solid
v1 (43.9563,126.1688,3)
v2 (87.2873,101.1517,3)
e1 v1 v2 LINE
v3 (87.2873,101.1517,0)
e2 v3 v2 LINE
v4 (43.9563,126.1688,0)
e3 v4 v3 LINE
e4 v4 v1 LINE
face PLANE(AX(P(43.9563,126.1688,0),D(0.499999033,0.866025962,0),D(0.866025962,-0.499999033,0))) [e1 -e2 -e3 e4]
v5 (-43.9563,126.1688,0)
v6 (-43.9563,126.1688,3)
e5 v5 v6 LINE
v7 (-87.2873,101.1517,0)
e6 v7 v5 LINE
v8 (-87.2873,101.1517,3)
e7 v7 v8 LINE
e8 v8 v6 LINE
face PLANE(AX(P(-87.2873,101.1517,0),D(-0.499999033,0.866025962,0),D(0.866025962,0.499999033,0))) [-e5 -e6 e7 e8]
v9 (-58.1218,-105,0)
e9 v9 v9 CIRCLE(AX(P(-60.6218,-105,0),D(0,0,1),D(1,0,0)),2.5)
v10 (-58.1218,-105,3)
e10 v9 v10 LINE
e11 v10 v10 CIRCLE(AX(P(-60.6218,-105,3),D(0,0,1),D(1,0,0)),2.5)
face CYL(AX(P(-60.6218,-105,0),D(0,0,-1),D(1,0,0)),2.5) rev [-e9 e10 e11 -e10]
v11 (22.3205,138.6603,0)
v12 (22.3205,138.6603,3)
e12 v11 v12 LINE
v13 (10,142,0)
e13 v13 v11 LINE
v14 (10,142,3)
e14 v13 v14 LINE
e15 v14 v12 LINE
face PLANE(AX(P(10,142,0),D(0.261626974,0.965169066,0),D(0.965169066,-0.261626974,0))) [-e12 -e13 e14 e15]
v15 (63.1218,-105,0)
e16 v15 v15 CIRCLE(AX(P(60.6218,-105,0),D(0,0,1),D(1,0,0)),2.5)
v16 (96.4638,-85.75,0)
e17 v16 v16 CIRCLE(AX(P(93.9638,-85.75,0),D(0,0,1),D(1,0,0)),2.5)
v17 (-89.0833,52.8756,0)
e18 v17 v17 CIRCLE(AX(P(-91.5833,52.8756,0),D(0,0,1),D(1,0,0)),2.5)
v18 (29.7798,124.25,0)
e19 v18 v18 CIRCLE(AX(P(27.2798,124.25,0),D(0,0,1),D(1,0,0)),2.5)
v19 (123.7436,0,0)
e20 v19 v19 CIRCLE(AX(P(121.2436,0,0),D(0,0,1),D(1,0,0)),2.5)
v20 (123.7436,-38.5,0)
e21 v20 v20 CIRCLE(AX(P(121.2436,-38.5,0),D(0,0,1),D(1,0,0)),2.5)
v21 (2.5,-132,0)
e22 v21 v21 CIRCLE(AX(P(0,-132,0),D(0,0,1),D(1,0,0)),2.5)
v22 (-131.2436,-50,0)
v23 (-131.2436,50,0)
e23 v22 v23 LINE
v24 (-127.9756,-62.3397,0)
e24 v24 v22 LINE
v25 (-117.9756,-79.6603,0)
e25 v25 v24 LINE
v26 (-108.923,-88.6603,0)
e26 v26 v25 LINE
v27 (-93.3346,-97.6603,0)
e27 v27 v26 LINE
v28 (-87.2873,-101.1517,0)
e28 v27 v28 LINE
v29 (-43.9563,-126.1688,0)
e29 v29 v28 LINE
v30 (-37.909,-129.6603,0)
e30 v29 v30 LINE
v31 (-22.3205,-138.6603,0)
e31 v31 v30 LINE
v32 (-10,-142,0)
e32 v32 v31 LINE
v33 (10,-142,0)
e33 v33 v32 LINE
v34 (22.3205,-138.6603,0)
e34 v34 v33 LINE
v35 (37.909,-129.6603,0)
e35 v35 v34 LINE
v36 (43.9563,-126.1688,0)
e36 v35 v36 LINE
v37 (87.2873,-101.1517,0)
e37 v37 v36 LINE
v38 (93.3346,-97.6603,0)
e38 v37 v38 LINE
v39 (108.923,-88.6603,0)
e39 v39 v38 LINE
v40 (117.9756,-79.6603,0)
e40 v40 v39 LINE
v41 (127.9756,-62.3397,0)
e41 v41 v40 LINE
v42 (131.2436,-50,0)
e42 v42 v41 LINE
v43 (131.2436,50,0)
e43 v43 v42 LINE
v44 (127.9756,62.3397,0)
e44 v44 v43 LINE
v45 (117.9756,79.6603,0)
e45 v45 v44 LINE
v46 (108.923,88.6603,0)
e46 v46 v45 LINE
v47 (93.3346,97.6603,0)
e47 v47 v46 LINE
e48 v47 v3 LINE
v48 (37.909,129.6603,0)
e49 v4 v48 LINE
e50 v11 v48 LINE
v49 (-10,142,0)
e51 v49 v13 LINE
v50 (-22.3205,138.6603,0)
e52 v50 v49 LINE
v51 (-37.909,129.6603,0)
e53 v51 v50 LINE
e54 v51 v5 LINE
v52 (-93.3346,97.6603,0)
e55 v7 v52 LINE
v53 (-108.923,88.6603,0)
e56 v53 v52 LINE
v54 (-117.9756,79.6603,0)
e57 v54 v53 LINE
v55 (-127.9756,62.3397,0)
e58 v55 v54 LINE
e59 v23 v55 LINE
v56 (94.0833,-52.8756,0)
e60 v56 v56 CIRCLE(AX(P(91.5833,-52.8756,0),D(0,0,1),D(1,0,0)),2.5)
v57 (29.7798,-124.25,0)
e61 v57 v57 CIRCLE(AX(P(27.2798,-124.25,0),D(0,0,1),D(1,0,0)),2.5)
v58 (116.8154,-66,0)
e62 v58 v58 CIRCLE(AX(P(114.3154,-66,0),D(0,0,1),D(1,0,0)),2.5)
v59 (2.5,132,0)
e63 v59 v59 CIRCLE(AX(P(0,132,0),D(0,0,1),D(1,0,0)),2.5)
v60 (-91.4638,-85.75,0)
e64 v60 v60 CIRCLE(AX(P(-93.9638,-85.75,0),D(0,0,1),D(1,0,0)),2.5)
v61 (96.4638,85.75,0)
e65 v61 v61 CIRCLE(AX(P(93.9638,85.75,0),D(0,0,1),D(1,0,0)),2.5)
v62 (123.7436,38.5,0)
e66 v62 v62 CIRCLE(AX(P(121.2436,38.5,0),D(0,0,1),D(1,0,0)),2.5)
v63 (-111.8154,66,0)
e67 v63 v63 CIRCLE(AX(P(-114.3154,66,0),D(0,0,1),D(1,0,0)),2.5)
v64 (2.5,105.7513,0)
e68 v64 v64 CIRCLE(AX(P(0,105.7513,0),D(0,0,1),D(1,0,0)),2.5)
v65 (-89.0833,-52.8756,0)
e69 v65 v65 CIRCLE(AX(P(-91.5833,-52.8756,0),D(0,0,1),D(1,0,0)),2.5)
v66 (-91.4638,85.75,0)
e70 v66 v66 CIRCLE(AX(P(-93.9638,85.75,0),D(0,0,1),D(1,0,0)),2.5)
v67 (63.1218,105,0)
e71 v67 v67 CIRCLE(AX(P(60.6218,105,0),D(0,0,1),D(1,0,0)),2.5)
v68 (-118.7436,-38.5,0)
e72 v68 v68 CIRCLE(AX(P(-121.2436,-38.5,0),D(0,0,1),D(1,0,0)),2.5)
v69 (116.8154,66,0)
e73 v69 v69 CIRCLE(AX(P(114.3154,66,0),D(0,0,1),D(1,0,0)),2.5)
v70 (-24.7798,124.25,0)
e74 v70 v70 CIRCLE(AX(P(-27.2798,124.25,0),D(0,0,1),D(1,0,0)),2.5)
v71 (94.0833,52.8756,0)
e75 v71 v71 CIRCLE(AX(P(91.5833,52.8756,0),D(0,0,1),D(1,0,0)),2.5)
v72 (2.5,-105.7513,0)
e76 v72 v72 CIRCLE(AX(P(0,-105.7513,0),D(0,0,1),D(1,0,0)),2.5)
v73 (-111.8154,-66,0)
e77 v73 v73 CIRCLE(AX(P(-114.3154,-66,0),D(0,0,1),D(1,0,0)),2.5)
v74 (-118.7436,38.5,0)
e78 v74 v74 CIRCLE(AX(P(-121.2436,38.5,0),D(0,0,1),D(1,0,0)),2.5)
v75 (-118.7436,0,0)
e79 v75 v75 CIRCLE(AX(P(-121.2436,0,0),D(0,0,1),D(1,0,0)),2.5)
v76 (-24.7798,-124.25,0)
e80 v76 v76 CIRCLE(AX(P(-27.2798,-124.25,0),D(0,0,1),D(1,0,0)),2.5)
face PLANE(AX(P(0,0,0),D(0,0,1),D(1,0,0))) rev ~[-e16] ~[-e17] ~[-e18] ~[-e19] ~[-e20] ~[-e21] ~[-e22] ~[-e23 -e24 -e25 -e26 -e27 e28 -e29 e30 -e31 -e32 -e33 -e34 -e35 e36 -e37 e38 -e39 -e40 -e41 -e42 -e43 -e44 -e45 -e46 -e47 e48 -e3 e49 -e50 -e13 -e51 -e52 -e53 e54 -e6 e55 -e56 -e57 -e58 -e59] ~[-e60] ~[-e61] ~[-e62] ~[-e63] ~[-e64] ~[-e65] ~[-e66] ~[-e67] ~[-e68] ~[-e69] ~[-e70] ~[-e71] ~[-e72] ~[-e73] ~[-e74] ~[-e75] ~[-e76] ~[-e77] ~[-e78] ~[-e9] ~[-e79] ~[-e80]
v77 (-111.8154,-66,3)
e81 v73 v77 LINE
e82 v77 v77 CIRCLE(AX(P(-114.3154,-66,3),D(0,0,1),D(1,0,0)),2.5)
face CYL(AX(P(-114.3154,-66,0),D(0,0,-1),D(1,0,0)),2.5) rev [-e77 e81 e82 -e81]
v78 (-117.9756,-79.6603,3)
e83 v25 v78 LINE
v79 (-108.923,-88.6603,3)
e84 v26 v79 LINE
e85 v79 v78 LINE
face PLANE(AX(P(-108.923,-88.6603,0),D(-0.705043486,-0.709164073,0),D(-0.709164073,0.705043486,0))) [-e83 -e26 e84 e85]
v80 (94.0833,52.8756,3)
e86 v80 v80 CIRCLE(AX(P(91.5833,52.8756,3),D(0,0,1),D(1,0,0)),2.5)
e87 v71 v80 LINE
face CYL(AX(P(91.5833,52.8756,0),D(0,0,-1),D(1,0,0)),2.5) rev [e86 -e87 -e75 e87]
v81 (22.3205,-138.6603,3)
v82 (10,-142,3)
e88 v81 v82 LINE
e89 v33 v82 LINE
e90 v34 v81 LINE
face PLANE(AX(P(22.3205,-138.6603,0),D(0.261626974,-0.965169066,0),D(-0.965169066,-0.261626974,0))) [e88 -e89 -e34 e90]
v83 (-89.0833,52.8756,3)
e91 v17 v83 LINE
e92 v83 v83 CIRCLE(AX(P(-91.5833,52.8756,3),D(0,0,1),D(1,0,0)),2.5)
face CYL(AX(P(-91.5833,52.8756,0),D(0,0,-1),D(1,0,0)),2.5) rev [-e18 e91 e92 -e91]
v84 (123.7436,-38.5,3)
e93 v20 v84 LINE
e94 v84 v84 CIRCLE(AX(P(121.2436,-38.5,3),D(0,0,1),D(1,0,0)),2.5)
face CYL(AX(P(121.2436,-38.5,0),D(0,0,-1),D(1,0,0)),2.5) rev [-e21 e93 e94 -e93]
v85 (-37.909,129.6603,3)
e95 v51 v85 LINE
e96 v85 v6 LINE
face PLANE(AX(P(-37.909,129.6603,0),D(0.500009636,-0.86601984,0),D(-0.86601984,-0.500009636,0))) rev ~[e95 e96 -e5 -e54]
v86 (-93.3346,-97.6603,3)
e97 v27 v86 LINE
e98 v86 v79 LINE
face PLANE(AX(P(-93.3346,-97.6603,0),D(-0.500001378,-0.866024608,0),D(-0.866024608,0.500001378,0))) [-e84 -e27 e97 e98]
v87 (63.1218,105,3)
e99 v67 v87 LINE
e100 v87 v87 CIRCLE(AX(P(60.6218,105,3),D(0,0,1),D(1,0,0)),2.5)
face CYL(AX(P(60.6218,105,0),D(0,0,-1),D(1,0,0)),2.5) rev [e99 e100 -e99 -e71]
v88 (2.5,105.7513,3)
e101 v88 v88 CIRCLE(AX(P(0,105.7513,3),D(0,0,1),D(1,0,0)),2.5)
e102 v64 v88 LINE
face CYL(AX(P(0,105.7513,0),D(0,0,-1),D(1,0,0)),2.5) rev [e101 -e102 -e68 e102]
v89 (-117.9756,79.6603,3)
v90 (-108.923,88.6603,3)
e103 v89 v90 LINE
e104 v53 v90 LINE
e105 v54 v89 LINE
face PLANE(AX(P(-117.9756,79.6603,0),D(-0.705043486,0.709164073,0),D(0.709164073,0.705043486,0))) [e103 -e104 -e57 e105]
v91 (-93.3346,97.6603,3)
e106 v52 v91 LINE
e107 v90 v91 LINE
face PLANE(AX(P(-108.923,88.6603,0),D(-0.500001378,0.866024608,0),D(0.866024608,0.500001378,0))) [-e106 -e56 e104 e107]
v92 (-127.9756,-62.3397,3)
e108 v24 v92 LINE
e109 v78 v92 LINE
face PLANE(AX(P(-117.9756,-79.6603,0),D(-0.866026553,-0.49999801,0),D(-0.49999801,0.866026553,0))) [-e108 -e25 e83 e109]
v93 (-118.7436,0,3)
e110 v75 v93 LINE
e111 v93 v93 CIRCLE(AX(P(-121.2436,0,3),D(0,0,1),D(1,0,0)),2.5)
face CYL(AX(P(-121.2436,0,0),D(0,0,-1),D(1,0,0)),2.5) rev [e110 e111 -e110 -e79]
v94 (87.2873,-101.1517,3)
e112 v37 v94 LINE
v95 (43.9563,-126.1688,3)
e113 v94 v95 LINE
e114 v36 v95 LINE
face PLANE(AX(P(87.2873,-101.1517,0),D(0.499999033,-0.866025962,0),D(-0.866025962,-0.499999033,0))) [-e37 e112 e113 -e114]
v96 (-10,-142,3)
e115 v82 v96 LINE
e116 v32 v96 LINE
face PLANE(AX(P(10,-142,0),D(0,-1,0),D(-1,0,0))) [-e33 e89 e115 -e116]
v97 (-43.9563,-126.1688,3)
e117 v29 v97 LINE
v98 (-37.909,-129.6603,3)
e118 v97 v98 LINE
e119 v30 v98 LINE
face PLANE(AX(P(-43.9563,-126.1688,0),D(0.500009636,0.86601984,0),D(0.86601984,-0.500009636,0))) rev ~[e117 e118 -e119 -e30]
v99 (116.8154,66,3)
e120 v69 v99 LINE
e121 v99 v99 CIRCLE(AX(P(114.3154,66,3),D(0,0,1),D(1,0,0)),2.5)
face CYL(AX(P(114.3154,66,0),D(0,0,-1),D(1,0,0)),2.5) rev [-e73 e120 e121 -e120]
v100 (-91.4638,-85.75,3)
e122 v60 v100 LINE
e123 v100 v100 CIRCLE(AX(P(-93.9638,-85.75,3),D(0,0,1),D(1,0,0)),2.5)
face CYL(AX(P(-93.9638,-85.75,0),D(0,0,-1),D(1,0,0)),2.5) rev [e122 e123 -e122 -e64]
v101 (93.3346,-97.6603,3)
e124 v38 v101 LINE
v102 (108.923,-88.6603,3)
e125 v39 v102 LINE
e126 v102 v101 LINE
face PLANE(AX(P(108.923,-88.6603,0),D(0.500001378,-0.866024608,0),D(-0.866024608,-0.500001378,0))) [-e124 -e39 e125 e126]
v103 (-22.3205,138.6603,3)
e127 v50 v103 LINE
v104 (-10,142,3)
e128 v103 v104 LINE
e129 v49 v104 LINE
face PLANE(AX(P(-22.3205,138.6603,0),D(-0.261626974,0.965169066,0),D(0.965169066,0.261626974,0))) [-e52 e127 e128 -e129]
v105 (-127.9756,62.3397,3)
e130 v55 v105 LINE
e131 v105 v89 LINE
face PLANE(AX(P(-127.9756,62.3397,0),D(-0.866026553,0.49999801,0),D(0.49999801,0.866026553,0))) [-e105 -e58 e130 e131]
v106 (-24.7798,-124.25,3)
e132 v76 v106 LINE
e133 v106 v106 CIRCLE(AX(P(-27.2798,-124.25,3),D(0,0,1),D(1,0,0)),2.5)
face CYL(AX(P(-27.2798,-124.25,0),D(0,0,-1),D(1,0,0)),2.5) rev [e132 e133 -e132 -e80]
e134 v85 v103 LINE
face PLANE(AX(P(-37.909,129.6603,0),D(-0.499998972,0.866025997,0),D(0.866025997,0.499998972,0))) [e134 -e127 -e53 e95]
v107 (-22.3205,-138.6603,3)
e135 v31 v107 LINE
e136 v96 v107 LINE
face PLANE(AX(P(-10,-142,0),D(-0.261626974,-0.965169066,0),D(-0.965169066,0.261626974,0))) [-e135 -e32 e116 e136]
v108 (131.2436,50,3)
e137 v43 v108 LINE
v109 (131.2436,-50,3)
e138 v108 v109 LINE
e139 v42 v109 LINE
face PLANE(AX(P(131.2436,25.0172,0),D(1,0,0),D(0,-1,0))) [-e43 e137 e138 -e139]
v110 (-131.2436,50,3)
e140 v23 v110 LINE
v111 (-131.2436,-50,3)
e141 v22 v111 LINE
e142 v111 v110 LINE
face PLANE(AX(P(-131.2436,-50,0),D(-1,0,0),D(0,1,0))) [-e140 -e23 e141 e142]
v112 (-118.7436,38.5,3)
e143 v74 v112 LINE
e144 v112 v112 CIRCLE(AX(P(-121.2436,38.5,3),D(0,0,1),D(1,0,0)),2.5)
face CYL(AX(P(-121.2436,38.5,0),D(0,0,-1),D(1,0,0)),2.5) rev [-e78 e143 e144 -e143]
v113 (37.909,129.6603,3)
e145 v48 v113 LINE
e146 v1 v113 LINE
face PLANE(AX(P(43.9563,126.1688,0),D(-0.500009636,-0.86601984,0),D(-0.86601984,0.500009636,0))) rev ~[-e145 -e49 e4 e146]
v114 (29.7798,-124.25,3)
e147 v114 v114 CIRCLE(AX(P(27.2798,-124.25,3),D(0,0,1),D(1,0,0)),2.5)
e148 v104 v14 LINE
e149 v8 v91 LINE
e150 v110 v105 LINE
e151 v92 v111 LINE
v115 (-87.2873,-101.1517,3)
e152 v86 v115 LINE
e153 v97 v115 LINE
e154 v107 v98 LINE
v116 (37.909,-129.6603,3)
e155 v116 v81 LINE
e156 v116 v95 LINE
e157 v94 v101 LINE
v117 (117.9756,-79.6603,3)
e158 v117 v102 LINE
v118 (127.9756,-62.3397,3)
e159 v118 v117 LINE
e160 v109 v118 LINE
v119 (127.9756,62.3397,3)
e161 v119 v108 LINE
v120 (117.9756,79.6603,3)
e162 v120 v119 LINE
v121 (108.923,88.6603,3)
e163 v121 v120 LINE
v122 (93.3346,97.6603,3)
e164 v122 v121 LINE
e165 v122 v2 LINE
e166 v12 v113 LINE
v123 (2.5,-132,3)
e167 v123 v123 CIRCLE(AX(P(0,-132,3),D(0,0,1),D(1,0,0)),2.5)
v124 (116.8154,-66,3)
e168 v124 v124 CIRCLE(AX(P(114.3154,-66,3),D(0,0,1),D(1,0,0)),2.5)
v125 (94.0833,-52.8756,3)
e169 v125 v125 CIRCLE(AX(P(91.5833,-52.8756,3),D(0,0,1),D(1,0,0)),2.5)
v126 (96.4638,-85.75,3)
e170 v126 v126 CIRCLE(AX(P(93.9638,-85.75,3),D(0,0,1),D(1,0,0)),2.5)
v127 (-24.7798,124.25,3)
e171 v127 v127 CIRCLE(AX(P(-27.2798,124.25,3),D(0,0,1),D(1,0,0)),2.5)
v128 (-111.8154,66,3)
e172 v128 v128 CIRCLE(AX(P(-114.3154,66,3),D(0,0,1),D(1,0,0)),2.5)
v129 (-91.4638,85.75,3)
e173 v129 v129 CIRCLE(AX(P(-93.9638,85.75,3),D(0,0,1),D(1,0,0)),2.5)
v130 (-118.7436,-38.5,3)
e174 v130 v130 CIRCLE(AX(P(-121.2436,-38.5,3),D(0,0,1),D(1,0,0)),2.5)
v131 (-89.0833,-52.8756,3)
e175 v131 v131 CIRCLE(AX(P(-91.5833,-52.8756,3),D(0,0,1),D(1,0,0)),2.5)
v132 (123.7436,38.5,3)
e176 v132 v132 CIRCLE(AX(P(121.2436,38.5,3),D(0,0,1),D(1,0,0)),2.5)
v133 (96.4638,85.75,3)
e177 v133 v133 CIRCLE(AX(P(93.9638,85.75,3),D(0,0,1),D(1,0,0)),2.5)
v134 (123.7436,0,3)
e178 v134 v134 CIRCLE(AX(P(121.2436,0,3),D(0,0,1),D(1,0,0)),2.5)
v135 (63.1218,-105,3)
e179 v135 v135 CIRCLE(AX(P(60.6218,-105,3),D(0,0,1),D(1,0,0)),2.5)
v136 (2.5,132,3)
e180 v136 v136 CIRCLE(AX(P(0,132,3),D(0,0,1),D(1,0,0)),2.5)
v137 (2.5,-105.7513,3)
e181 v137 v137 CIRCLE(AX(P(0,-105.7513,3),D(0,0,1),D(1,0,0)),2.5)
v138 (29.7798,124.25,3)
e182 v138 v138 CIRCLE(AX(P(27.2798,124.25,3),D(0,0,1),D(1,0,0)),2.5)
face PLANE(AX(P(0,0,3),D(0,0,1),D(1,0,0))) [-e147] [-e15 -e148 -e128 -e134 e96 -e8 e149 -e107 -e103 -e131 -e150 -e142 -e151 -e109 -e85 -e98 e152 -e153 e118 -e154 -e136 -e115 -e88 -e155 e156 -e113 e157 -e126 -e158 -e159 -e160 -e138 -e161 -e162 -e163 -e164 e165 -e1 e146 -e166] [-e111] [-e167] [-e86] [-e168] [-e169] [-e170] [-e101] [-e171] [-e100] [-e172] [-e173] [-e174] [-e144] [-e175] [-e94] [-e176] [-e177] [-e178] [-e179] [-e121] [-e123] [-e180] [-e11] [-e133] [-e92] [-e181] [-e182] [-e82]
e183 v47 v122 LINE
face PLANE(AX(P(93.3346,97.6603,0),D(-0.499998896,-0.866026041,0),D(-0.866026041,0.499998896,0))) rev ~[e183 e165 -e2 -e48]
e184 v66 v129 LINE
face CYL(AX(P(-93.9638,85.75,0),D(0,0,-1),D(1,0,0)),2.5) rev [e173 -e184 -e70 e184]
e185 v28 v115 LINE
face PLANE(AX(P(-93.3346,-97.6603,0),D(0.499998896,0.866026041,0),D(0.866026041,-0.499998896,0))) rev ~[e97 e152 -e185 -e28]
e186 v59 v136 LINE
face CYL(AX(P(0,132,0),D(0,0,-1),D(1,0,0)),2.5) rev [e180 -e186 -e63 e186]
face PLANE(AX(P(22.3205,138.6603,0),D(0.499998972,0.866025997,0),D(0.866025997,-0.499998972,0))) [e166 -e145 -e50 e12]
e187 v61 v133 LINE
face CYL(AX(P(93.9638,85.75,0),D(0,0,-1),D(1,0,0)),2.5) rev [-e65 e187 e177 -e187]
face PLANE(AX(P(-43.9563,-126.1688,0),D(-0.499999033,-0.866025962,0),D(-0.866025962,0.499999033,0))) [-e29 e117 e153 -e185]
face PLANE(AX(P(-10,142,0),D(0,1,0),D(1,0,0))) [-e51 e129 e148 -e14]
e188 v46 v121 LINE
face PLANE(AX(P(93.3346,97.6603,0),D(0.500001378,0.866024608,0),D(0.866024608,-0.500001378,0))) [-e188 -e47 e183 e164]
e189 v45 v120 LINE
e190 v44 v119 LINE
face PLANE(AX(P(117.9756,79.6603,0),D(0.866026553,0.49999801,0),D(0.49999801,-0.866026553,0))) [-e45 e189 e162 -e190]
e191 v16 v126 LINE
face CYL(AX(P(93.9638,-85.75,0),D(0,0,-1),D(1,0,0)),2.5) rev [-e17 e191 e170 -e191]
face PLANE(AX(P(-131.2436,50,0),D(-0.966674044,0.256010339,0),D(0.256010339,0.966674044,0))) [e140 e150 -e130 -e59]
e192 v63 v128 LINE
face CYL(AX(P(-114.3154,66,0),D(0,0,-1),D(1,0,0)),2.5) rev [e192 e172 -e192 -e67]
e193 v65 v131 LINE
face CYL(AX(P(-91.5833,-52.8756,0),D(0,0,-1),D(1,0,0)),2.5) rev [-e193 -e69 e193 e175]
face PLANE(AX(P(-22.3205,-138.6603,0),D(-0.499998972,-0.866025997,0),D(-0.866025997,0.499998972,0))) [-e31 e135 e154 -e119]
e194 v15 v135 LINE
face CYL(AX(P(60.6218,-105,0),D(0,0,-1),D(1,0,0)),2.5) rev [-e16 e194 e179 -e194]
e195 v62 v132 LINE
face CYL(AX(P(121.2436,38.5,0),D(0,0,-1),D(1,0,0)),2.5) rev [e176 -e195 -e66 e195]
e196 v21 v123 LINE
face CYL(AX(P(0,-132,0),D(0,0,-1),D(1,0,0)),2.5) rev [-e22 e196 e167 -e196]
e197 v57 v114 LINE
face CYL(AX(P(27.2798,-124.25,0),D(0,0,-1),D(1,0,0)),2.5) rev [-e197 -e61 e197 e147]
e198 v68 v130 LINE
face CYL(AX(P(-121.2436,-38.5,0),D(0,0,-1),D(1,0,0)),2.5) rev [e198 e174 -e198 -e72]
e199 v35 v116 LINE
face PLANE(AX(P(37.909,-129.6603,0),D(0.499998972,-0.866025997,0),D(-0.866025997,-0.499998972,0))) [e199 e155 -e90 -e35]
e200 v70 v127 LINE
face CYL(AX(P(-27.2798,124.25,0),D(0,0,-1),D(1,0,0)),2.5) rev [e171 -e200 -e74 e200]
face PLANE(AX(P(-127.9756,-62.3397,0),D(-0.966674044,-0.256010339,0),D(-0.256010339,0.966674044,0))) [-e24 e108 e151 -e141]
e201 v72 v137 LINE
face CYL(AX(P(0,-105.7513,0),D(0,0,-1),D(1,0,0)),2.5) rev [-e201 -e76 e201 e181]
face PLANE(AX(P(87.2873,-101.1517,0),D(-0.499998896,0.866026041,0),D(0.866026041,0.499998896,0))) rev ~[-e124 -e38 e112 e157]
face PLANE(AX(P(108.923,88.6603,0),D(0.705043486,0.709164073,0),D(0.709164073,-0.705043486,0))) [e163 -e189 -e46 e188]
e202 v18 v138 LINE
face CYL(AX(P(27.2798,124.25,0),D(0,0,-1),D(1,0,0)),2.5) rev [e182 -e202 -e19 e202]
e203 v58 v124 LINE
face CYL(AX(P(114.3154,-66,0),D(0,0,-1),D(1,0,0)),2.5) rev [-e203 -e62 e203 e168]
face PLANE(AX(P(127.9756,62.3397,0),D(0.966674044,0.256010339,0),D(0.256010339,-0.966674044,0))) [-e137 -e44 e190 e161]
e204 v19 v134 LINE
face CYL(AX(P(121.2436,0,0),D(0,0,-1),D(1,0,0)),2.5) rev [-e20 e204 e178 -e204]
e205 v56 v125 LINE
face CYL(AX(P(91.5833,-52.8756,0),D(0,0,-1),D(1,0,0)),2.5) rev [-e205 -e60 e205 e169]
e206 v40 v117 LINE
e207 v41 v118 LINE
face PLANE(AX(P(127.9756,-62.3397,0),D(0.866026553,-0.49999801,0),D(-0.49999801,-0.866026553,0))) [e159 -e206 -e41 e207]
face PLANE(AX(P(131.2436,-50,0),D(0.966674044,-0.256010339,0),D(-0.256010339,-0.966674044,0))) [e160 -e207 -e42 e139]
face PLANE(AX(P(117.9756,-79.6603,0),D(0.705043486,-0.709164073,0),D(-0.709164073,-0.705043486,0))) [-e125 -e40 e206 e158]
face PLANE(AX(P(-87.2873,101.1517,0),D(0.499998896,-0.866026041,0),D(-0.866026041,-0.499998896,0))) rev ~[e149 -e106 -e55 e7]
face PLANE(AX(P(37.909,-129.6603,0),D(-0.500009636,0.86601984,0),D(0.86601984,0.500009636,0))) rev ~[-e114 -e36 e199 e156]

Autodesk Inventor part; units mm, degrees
ref_plane "YZ Plane" through (0, 0, 0) normal (1, 0, 0) x (0, 1, 0)
ref_plane "XZ Plane" through (0, 0, 0) normal (0, 1, 0) x (-1, 0, 0)
ref_plane "XY Plane" through (0, 0, 0) normal (0, 0, 1) x (1, 0, 0)
sketch "Skizze1" plane through (0, 0, 0) normal (0, 0, 1) x (1, 0, 0)
  circle A0 centre (60.6218, 105) radius 2.5
  circle A1 centre (-60.6218, 105) radius 2.5
  circle A2 centre (-121.2436, 0) radius 2.5
  circle A3 centre (-60.6218, -105) radius 2.5
  circle A4 centre (60.6218, -105) radius 2.5
  circle A5 centre (121.2436, 0) radius 2.5
  arc A6 (-66.5358, -13.0029) -> (-65.0733, -9.953) centre (-68.0388, -10.4066) ccw
  line L0 (-66.5358, -13.0029) -> (-66.8448, -13.1817)
  arc A7 (-66.8448, -13.1817) -> (-68.6633, -20.0004) centre (-40.9893, -23.7291) ccw
  line L1 (-68.6633, -20.0004) -> (-51.5367, -49.5845)
  arc A8 (-51.5367, -49.5845) -> (-44.7181, -51.4031) centre (-40.9893, -23.7291) ccw
  line L2 (-44.7181, -51.4031) -> (-44.4091, -51.2242)
  arc A9 (-41.036, -51.4747) -> (-44.4091, -51.2242) centre (-42.9061, -53.8205) ccw
  arc A10 (-41.036, -51.4747) -> (-65.0733, -9.953) centre (0, 0) ccw
  circle A11 centre (-63.1036, -36.5313) radius 3.3
  circle A12 centre (63.1888, -36.3837) radius 3.3
  circle A13 centre (-0.0852, 72.915) radius 3.3
  circle A14 centre (63.1036, 36.5313) radius 3.3
  circle A15 centre (0.0852, -72.915) radius 3.3
  circle A16 centre (-63.1888, 36.3837) radius 3.3
  arc A17 (131.2436, 25.0172) -> (128.4541, 26.8548) centre (129.2436, 25.0172) ccw
  line L3 (131.2436, 25.0172) -> (131.2436, -25.0172)
  arc A18 (128.4541, -26.8548) -> (131.2436, -25.0172) centre (129.2436, -25.0172) ccw
  arc A19 (128.4541, -26.8548) -> (126.2436, -26.4) centre (126.2436, -32) ccw
  line L4 (126.2436, -26.4) -> (110.2436, -26.4) construction
  arc A20 (110.2436, -26.4) -> (104.6436, -32) centre (110.2436, -32) ccw construction
  line L5 (104.6436, -32) -> (104.6436, -40.5551) construction
  arc A21 (98.0436, -44.3656) -> (104.6436, -40.5551) centre (100.2436, -40.5551) ccw construction
  line L6 (98.0436, -44.3656) -> (92.5532, -41.1958) construction
  arc A22 (92.5532, -41.1958) -> (84.9034, -43.2455) centre (89.7532, -46.0455) ccw construction
  line L7 (84.9034, -43.2455) -> (79.9034, -51.9058) construction
  arc A23 (79.9034, -51.9058) -> (81.9532, -59.5555) centre (84.7532, -54.7058) ccw construction
  line L8 (81.9532, -59.5555) -> (87.4436, -62.7254) construction
  arc A24 (87.4436, -70.3464) -> (87.4436, -62.7254) centre (85.2436, -66.5359) ccw construction
  line L9 (87.4436, -70.3464) -> (80.0346, -74.624) construction
  arc A25 (80.0346, -74.624) -> (77.9848, -82.2737) centre (82.8346, -79.4737) ccw construction
  line L10 (77.9848, -82.2737) -> (85.9848, -96.1301) construction
  arc A26 (85.9848, -96.1301) -> (87.4839, -97.8171) centre (90.8346, -93.3301) ccw
  arc A27 (87.2873, -101.1517) -> (87.4839, -97.8171) centre (86.2873, -99.4196) ccw
  line L11 (87.2873, -101.1517) -> (43.9563, -126.1688)
  arc A28 (40.9701, -124.6719) -> (43.9563, -126.1688) centre (42.9563, -124.4368) ccw
  arc A29 (40.9701, -124.6719) -> (40.2587, -122.5301) centre (35.409, -125.3301) ccw
  line L12 (40.2587, -122.5301) -> (32.2587, -108.6737) construction
  arc A30 (32.2587, -108.6737) -> (24.609, -106.624) centre (27.409, -111.4737) ccw construction
  line L13 (24.609, -106.624) -> (17.2, -110.9015) construction
  arc A31 (10.6, -107.091) -> (17.2, -110.9015) centre (15, -107.091) ccw construction
  line L14 (10.6, -107.091) -> (10.6, -100.7513) construction
  arc A32 (10.6, -100.7513) -> (5, -95.1513) centre (5, -100.7513) ccw construction
  line L15 (5, -95.1513) -> (-5, -95.1513) construction
  arc A33 (-5, -95.1513) -> (-10.6, -100.7513) centre (-5, -100.7513) ccw construction
  line L16 (-10.6, -100.7513) -> (-10.6, -107.091) construction
  arc A34 (-17.2, -110.9015) -> (-10.6, -107.091) centre (-15, -107.091) ccw construction
  line L17 (-17.2, -110.9015) -> (-24.609, -106.624) construction
  arc A35 (-24.609, -106.624) -> (-32.2587, -108.6737) centre (-27.409, -111.4737) ccw construction
  line L18 (-32.2587, -108.6737) -> (-40.2587, -122.5301) construction
  arc A36 (-40.2587, -122.5301) -> (-40.9701, -124.6719) centre (-35.409, -125.3301) ccw
  arc A37 (-43.9563, -126.1688) -> (-40.9701, -124.6719) centre (-42.9563, -124.4368) ccw
  line L19 (-43.9563, -126.1688) -> (-87.2873, -101.1517)
  arc A38 (-87.4839, -97.8171) -> (-87.2873, -101.1517) centre (-86.2873, -99.4196) ccw
  arc A39 (-87.4839, -97.8171) -> (-85.9848, -96.1301) centre (-90.8346, -93.3301) ccw
  line L20 (-85.9848, -96.1301) -> (-77.9848, -82.2737) construction
  arc A40 (-77.9848, -82.2737) -> (-80.0346, -74.624) centre (-82.8346, -79.4737) ccw construction
  line L21 (-80.0346, -74.624) -> (-87.4436, -70.3464) construction
  arc A41 (-87.4436, -62.7254) -> (-87.4436, -70.3464) centre (-85.2436, -66.5359) ccw construction
  line L22 (-87.4436, -62.7254) -> (-81.9532, -59.5555) construction
  arc A42 (-81.9532, -59.5555) -> (-79.9034, -51.9058) centre (-84.7532, -54.7058) ccw construction
  line L23 (-79.9034, -51.9058) -> (-84.9034, -43.2455) construction
  arc A43 (-84.9034, -43.2455) -> (-92.5532, -41.1958) centre (-89.7532, -46.0455) ccw construction
  line L24 (-92.5532, -41.1958) -> (-98.0436, -44.3656) construction
  arc A44 (-104.6436, -40.5551) -> (-98.0436, -44.3656) centre (-100.2436, -40.5551) ccw construction
  line L25 (-104.6436, -40.5551) -> (-104.6436, -32) construction
  arc A45 (-104.6436, -32) -> (-110.2436, -26.4) centre (-110.2436, -32) ccw construction
  line L26 (-110.2436, -26.4) -> (-126.2436, -26.4) construction
  arc A46 (-126.2436, -26.4) -> (-128.4541, -26.8548) centre (-126.2436, -32) ccw
  arc A47 (-131.2436, -25.0172) -> (-128.4541, -26.8548) centre (-129.2436, -25.0172) ccw
  line L27 (-131.2436, -25.0172) -> (-131.2436, 25.0172)
  arc A48 (-128.4541, 26.8548) -> (-131.2436, 25.0172) centre (-129.2436, 25.0172) ccw
  arc A49 (-128.4541, 26.8548) -> (-126.2436, 26.4) centre (-126.2436, 32) ccw
  line L28 (-126.2436, 26.4) -> (-110.2436, 26.4) construction
  arc A50 (-110.2436, 26.4) -> (-104.6436, 32) centre (-110.2436, 32) ccw construction
  line L29 (-104.6436, 32) -> (-104.6436, 40.5551) construction
  arc A51 (-98.0436, 44.3656) -> (-104.6436, 40.5551) centre (-100.2436, 40.5551) ccw construction
  line L30 (-98.0436, 44.3656) -> (-92.5532, 41.1958) construction
  arc A52 (-92.5532, 41.1958) -> (-84.9034, 43.2455) centre (-89.7532, 46.0455) ccw construction
  line L31 (-84.9034, 43.2455) -> (-79.9034, 51.9058) construction
  arc A53 (-79.9034, 51.9058) -> (-81.9532, 59.5555) centre (-84.7532, 54.7058) ccw construction
  line L32 (-81.9532, 59.5555) -> (-87.4436, 62.7254) construction
  arc A54 (-87.4436, 70.3464) -> (-87.4436, 62.7254) centre (-85.2436, 66.5359) ccw construction
  line L33 (-87.4436, 70.3464) -> (-80.0346, 74.624) construction
  arc A55 (-80.0346, 74.624) -> (-77.9848, 82.2737) centre (-82.8346, 79.4737) ccw construction
  line L34 (-77.9848, 82.2737) -> (-85.9848, 96.1301) construction
  arc A56 (-85.9848, 96.1301) -> (-87.4839, 97.8171) centre (-90.8346, 93.3301) ccw
  arc A57 (-87.2873, 101.1517) -> (-87.4839, 97.8171) centre (-86.2873, 99.4196) ccw
  line L35 (-87.2873, 101.1517) -> (-43.9563, 126.1688)
  arc A58 (-40.9701, 124.6719) -> (-43.9563, 126.1688) centre (-42.9563, 124.4368) ccw
  arc A59 (-40.9701, 124.6719) -> (-40.2587, 122.5301) centre (-35.409, 125.3301) ccw
  line L36 (-40.2587, 122.5301) -> (-32.2587, 108.6737)
  arc A60 (-32.2587, 108.6737) -> (-24.609, 106.624) centre (-27.409, 111.4737) ccw
  line L37 (-24.609, 106.624) -> (-17.2, 110.9015) construction
  arc A61 (-10.6, 107.091) -> (-17.2, 110.9015) centre (-15, 107.091) ccw construction
  line L38 (-10.6, 107.091) -> (-10.6, 100.7513)
  arc A62 (-10.6, 100.7513) -> (-5, 95.1513) centre (-5, 100.7513) ccw construction
  line L39 (-5, 95.1513) -> (5, 95.1513) construction
  arc A63 (5, 95.1513) -> (10.6, 100.7513) centre (5, 100.7513) ccw construction
  line L40 (10.6, 100.7513) -> (10.6, 107.091)
  arc A64 (17.2, 110.9015) -> (10.6, 107.091) centre (15, 107.091) ccw construction
  line L41 (17.2, 110.9015) -> (24.609, 106.624) construction
  arc A65 (24.609, 106.624) -> (32.2587, 108.6737) centre (27.409, 111.4737) ccw construction
  line L42 (32.2587, 108.6737) -> (40.2587, 122.5301) construction
  arc A66 (40.2587, 122.5301) -> (40.9701, 124.6719) centre (35.409, 125.3301) ccw
  arc A67 (43.9563, 126.1688) -> (40.9701, 124.6719) centre (42.9563, 124.4368) ccw
  line L43 (43.9563, 126.1688) -> (87.2873, 101.1517)
  arc A68 (87.4839, 97.8171) -> (87.2873, 101.1517) centre (86.2873, 99.4196) ccw
  arc A69 (87.4839, 97.8171) -> (85.9848, 96.1301) centre (90.8346, 93.3301) ccw
  line L44 (85.9848, 96.1301) -> (77.9848, 82.2737) construction
  arc A70 (77.9848, 82.2737) -> (80.0346, 74.624) centre (82.8346, 79.4737) ccw construction
  line L45 (80.0346, 74.624) -> (87.4436, 70.3464) construction
  arc A71 (87.4436, 62.7254) -> (87.4436, 70.3464) centre (85.2436, 66.5359) ccw construction
  line L46 (87.4436, 62.7254) -> (81.9532, 59.5555) construction
  arc A72 (81.9532, 59.5555) -> (79.9034, 51.9058) centre (84.7532, 54.7058) ccw construction
  line L47 (79.9034, 51.9058) -> (84.9034, 43.2455) construction
  arc A73 (84.9034, 43.2455) -> (92.5532, 41.1958) centre (89.7532, 46.0455) ccw construction
  line L48 (92.5532, 41.1958) -> (98.0436, 44.3656) construction
  arc A74 (104.6436, 40.5551) -> (98.0436, 44.3656) centre (100.2436, 40.5551) ccw construction
  line L49 (104.6436, 40.5551) -> (104.6436, 32) construction
  arc A75 (104.6436, 32) -> (110.2436, 26.4) centre (110.2436, 32) ccw construction
  line L50 (110.2436, 26.4) -> (126.2436, 26.4) construction
  arc A76 (126.2436, 26.4) -> (128.4541, 26.8548) centre (126.2436, 32) ccw
  arc A77 (80.3346, -75.1436) -> (78.5045, -81.9737) centre (82.8346, -79.4737) ccw construction
  line L51 (80.3346, -75.1436) -> (87.7436, -70.866) construction
  arc A78 (87.7436, -70.866) -> (87.7436, -62.2058) centre (85.2436, -66.5359) ccw construction
  line L52 (87.7436, -62.2058) -> (82.2532, -59.0359) construction
  arc A79 (80.423, -52.2058) -> (82.2532, -59.0359) centre (84.7532, -54.7058) ccw construction
  line L53 (80.423, -52.2058) -> (85.423, -43.5455) construction
  arc A80 (92.2532, -41.7154) -> (85.423, -43.5455) centre (89.7532, -46.0455) ccw construction
  line L54 (92.2532, -41.7154) -> (97.7436, -44.8853) construction
  arc A81 (97.7436, -44.8853) -> (105.2436, -40.5551) centre (100.2436, -40.5551) ccw construction
  line L55 (105.2436, -40.5551) -> (105.2436, -32) construction
  arc A82 (110.2436, -27) -> (105.2436, -32) centre (110.2436, -32) ccw construction
  line L56 (110.2436, -27) -> (126.2436, -27) construction
  arc A83 (131.2436, -32) -> (126.2436, -27) centre (126.2436, -32) ccw
  line L57 (131.2436, -32) -> (131.2436, -50)
  line L58 (131.2436, -50) -> (127.9756, -62.3397)
  line L59 (127.9756, -62.3397) -> (117.9756, -79.6603)
  line L60 (117.9756, -79.6603) -> (108.923, -88.6603)
  line L61 (108.923, -88.6603) -> (93.3346, -97.6603)
  arc A84 (86.5045, -95.8301) -> (93.3346, -97.6603) centre (90.8346, -93.3301) ccw
  line L62 (86.5045, -95.8301) -> (78.5045, -81.9737) construction
  circle A85 centre (114.3154, -66) radius 5.5 construction
  circle A86 centre (91.5833, -52.8756) radius 5.5 construction
  circle A87 centre (93.9638, -85.75) radius 5.5 construction
  circle A88 centre (121.2436, -38.5) radius 5.5 construction
  arc A89 (105.2436, 32) -> (110.2436, 27) centre (110.2436, 32) ccw construction
  line L63 (105.2436, 32) -> (105.2436, 40.5551) construction
  arc A90 (105.2436, 40.5551) -> (97.7436, 44.8853) centre (100.2436, 40.5551) ccw construction
  line L64 (97.7436, 44.8853) -> (92.2532, 41.7154) construction
  arc A91 (85.423, 43.5455) -> (92.2532, 41.7154) centre (89.7532, 46.0455) ccw construction
  line L65 (85.423, 43.5455) -> (80.423, 52.2058) construction
  arc A92 (82.2532, 59.0359) -> (80.423, 52.2058) centre (84.7532, 54.7058) ccw construction
  line L66 (82.2532, 59.0359) -> (87.7436, 62.2058) construction
  arc A93 (87.7436, 62.2058) -> (87.7436, 70.866) centre (85.2436, 66.5359) ccw construction
  line L67 (87.7436, 70.866) -> (80.3346, 75.1436) construction
  arc A94 (78.5045, 81.9737) -> (80.3346, 75.1436) centre (82.8346, 79.4737) ccw construction
  line L68 (78.5045, 81.9737) -> (86.5045, 95.8301) construction
  arc A95 (93.3346, 97.6603) -> (86.5045, 95.8301) centre (90.8346, 93.3301) ccw
  line L69 (93.3346, 97.6603) -> (108.923, 88.6603)
  line L70 (108.923, 88.6603) -> (117.9756, 79.6603)
  line L71 (117.9756, 79.6603) -> (127.9756, 62.3397)
  line L72 (127.9756, 62.3397) -> (131.2436, 50)
  line L73 (131.2436, 50) -> (131.2436, 32)
  arc A96 (126.2436, 27) -> (131.2436, 32) centre (126.2436, 32) ccw
  line L74 (126.2436, 27) -> (110.2436, 27) construction
  circle A97 centre (114.3154, 66) radius 5.5 construction
  circle A98 centre (91.5833, 52.8756) radius 5.5 construction
  circle A99 centre (121.2436, 38.5) radius 5.5 construction
  circle A100 centre (93.9638, 85.75) radius 5.5 construction
  arc A101 (24.909, 107.1436) -> (31.7391, 108.9737) centre (27.409, 111.4737) ccw construction
  line L75 (24.909, 107.1436) -> (17.5, 111.4212) construction
  arc A102 (17.5, 111.4212) -> (10, 107.091) centre (15, 107.091) ccw construction
  line L76 (10, 107.091) -> (10, 100.7513)
  arc A103 (5, 95.7513) -> (10, 100.7513) centre (5, 100.7513) ccw construction
  line L77 (5, 95.7513) -> (-5, 95.7513) construction
  arc A104 (-10, 100.7513) -> (-5, 95.7513) centre (-5, 100.7513) ccw construction
  line L78 (-10, 100.7513) -> (-10, 107.091)
  arc A105 (-10, 107.091) -> (-17.5, 111.4212) centre (-15, 107.091) ccw construction
  line L79 (-17.5, 111.4212) -> (-24.909, 107.1436) construction
  arc A106 (-31.7391, 108.9737) -> (-24.909, 107.1436) centre (-27.409, 111.4737) ccw
  line L80 (-31.7391, 108.9737) -> (-39.7391, 122.8301)
  arc A107 (-37.909, 129.6603) -> (-39.7391, 122.8301) centre (-35.409, 125.3301) ccw
  line L81 (-37.909, 129.6603) -> (-22.3205, 138.6603)
  line L82 (-22.3205, 138.6603) -> (-10, 142)
  line L83 (-10, 142) -> (10, 142)
  line L84 (10, 142) -> (22.3205, 138.6603)
  line L85 (22.3205, 138.6603) -> (37.909, 129.6603)
  arc A108 (39.7391, 122.8301) -> (37.909, 129.6603) centre (35.409, 125.3301) ccw
  line L86 (39.7391, 122.8301) -> (31.7391, 108.9737) construction
  circle A109 centre (0, 132) radius 5.5 construction
  circle A110 centre (0, 105.7513) radius 5.5 construction
  circle A111 centre (27.2798, 124.25) radius 5.5 construction
  circle A112 centre (-27.2798, 124.25) radius 5.5 construction
  arc A113 (-80.3346, 75.1436) -> (-78.5045, 81.9737) centre (-82.8346, 79.4737) ccw construction
  line L87 (-80.3346, 75.1436) -> (-87.7436, 70.866) construction
  arc A114 (-87.7436, 70.866) -> (-87.7436, 62.2058) centre (-85.2436, 66.5359) ccw construction
  line L88 (-87.7436, 62.2058) -> (-82.2532, 59.0359) construction
  arc A115 (-80.423, 52.2058) -> (-82.2532, 59.0359) centre (-84.7532, 54.7058) ccw construction
  line L89 (-80.423, 52.2058) -> (-85.423, 43.5455) construction
  arc A116 (-92.2532, 41.7154) -> (-85.423, 43.5455) centre (-89.7532, 46.0455) ccw construction
  line L90 (-92.2532, 41.7154) -> (-97.7436, 44.8853) construction
  arc A117 (-97.7436, 44.8853) -> (-105.2436, 40.5551) centre (-100.2436, 40.5551) ccw construction
  line L91 (-105.2436, 40.5551) -> (-105.2436, 32) construction
  arc A118 (-110.2436, 27) -> (-105.2436, 32) centre (-110.2436, 32) ccw construction
  line L92 (-110.2436, 27) -> (-126.2436, 27) construction
  arc A119 (-131.2436, 32) -> (-126.2436, 27) centre (-126.2436, 32) ccw
  line L93 (-131.2436, 32) -> (-131.2436, 50)
  line L94 (-131.2436, 50) -> (-127.9756, 62.3397)
  line L95 (-127.9756, 62.3397) -> (-117.9756, 79.6603)
  line L96 (-117.9756, 79.6603) -> (-108.923, 88.6603)
  line L97 (-108.923, 88.6603) -> (-93.3346, 97.6603)
  arc A120 (-86.5045, 95.8301) -> (-93.3346, 97.6603) centre (-90.8346, 93.3301) ccw
  line L98 (-86.5045, 95.8301) -> (-78.5045, 81.9737) construction
  circle A121 centre (-114.3154, 66) radius 5.5 construction
  circle A122 centre (-91.5833, 52.8756) radius 5.5 construction
  circle A123 centre (-93.9638, 85.75) radius 5.5 construction
  circle A124 centre (-121.2436, 38.5) radius 5.5 construction
  arc A125 (-105.2436, -32) -> (-110.2436, -27) centre (-110.2436, -32) ccw construction
  line L99 (-105.2436, -32) -> (-105.2436, -40.5551) construction
  arc A126 (-105.2436, -40.5551) -> (-97.7436, -44.8853) centre (-100.2436, -40.5551) ccw construction
  line L100 (-97.7436, -44.8853) -> (-92.2532, -41.7154) construction
  arc A127 (-85.423, -43.5455) -> (-92.2532, -41.7154) centre (-89.7532, -46.0455) ccw construction
  line L101 (-85.423, -43.5455) -> (-80.423, -52.2058) construction
  arc A128 (-82.2532, -59.0359) -> (-80.423, -52.2058) centre (-84.7532, -54.7058) ccw construction
  line L102 (-82.2532, -59.0359) -> (-87.7436, -62.2058) construction
  arc A129 (-87.7436, -62.2058) -> (-87.7436, -70.866) centre (-85.2436, -66.5359) ccw construction
  line L103 (-87.7436, -70.866) -> (-80.3346, -75.1436) construction
  arc A130 (-78.5045, -81.9737) -> (-80.3346, -75.1436) centre (-82.8346, -79.4737) ccw construction
  line L104 (-78.5045, -81.9737) -> (-86.5045, -95.8301) construction
  arc A131 (-93.3346, -97.6603) -> (-86.5045, -95.8301) centre (-90.8346, -93.3301) ccw
  line L105 (-93.3346, -97.6603) -> (-108.923, -88.6603)
  line L106 (-108.923, -88.6603) -> (-117.9756, -79.6603)
  line L107 (-117.9756, -79.6603) -> (-127.9756, -62.3397)
  line L108 (-127.9756, -62.3397) -> (-131.2436, -50)
  line L109 (-131.2436, -50) -> (-131.2436, -32)
  arc A132 (-126.2436, -27) -> (-131.2436, -32) centre (-126.2436, -32) ccw
  line L110 (-126.2436, -27) -> (-110.2436, -27) construction
  circle A133 centre (-114.3154, -66) radius 5.5 construction
  circle A134 centre (-91.5833, -52.8756) radius 5.5 construction
  circle A135 centre (-121.2436, -38.5) radius 5.5 construction
  circle A136 centre (-93.9638, -85.75) radius 5.5 construction
  arc A137 (-24.909, -107.1436) -> (-31.7391, -108.9737) centre (-27.409, -111.4737) ccw construction
  line L111 (-24.909, -107.1436) -> (-17.5, -111.4212) construction
  arc A138 (-17.5, -111.4212) -> (-10, -107.091) centre (-15, -107.091) ccw construction
  line L112 (-10, -107.091) -> (-10, -100.7513) construction
  arc A139 (-5, -95.7513) -> (-10, -100.7513) centre (-5, -100.7513) ccw construction
  line L113 (-5, -95.7513) -> (5, -95.7513) construction
  arc A140 (10, -100.7513) -> (5, -95.7513) centre (5, -100.7513) ccw construction
  line L114 (10, -100.7513) -> (10, -107.091) construction
  arc A141 (10, -107.091) -> (17.5, -111.4212) centre (15, -107.091) ccw construction
  line L115 (17.5, -111.4212) -> (24.909, -107.1436) construction
  arc A142 (31.7391, -108.9737) -> (24.909, -107.1436) centre (27.409, -111.4737) ccw construction
  line L116 (31.7391, -108.9737) -> (39.7391, -122.8301) construction
  arc A143 (37.909, -129.6603) -> (39.7391, -122.8301) centre (35.409, -125.3301) ccw
  line L117 (37.909, -129.6603) -> (22.3205, -138.6603)
  line L118 (22.3205, -138.6603) -> (10, -142)
  line L119 (10, -142) -> (-10, -142)
  line L120 (-10, -142) -> (-22.3205, -138.6603)
  line L121 (-22.3205, -138.6603) -> (-37.909, -129.6603)
  arc A144 (-39.7391, -122.8301) -> (-37.909, -129.6603) centre (-35.409, -125.3301) ccw
  line L122 (-39.7391, -122.8301) -> (-31.7391, -108.9737) construction
  circle A145 centre (0, -132) radius 5.5 construction
  circle A146 centre (0, -105.7513) radius 5.5 construction
  circle A147 centre (-27.2798, -124.25) radius 5.5 construction
  circle A148 centre (27.2798, -124.25) radius 5.5 construction
  line L123 (-131.2436, -25.0172) -> (-131.2436, -32)
  line L124 (-93.3346, -97.6603) -> (-87.2873, -101.1517)
  line L125 (-43.9563, -126.1688) -> (-37.909, -129.6603)
  line L126 (37.909, -129.6603) -> (43.9563, -126.1688)
  line L127 (87.2873, -101.1517) -> (93.3346, -97.6603)
  line L128 (131.2436, -32) -> (131.2436, -25.0172)
  line L129 (131.2436, 25.0172) -> (131.2436, 32)
  line L130 (93.3346, 97.6603) -> (87.2873, 101.1517)
  line L131 (43.9563, 126.1688) -> (37.909, 129.6603)
  line L132 (-37.909, 129.6603) -> (-43.9563, 126.1688)
  line L133 (-87.2873, 101.1517) -> (-93.3346, 97.6603)
  line L134 (-131.2436, 32) -> (-131.2436, 25.0172)
  circle A149 centre (-27.2798, 124.25) radius 2.5
  circle A150 centre (0, 105.7513) radius 2.5
  circle A151 centre (0, 132) radius 2.5
  circle A152 centre (27.2798, 124.25) radius 2.5
  circle A153 centre (-121.2436, 38.5) radius 2.5
  circle A154 centre (-91.5833, 52.8756) radius 2.5
  circle A155 centre (-114.3154, 66) radius 2.5
  circle A156 centre (-93.9638, 85.75) radius 2.5
  circle A157 centre (-93.9638, -85.75) radius 2.5
  circle A158 centre (-91.5833, -52.8756) radius 2.5
  circle A159 centre (-114.3154, -66) radius 2.5
  circle A160 centre (-121.2436, -38.5) radius 2.5
  circle A161 centre (27.2798, -124.25) radius 2.5
  circle A162 centre (0, -105.7513) radius 2.5
  circle A163 centre (0, -132) radius 2.5
  circle A164 centre (-27.2798, -124.25) radius 2.5
  circle A165 centre (121.2436, -38.5) radius 2.5
  circle A166 centre (91.5833, -52.8756) radius 2.5
  circle A167 centre (114.3154, -66) radius 2.5
  circle A168 centre (93.9638, -85.75) radius 2.5
  circle A169 centre (93.9638, 85.75) radius 2.5
  circle A170 centre (91.5833, 52.8756) radius 2.5
  circle A171 centre (114.3154, 66) radius 2.5
  circle A172 centre (121.2436, 38.5) radius 2.5
  point P0 (0, 0)
  dimension "d3" = 360
extrude "Extrusion1" add sketch "Skizze1" along normal blind 3 contours A1 | L3 L128 L57 L58 L59 L60 L61 L127 L11 L126 L117 L118 L119 L120 L121 L125 L19 L124 L105 L106 L107 L108 L109 L123 L27 L134 L93 L94 L95 L96 L97 L133 L35 L132 L81 L82 L83 L84 L85 L131 L43 L130 L69 L70 L71 L72 L73 L129
sketch "Skizze2" plane through (0, 0, 3) normal (0, 0, 1) x (1, 0, 0)
  arc A0 (-41.036, -51.4747) -> (-65.0733, -9.953) centre (0, 0) ccw projected
  arc A1 (-41.036, -51.4747) -> (-44.4091, -51.2242) centre (-42.9061, -53.8205) ccw projected
  line L0 (-44.4091, -51.2242) -> (-44.7181, -51.4031) projected
  arc A2 (-51.5367, -49.5845) -> (-44.7181, -51.4031) centre (-40.9893, -23.7291) ccw projected
  line L1 (-51.5367, -49.5845) -> (-68.6633, -20.0004) projected
  arc A3 (-66.8448, -13.1817) -> (-68.6633, -20.0004) centre (-40.9893, -23.7291) ccw projected
  line L2 (-66.8448, -13.1817) -> (-66.5358, -13.0029) projected
  arc A4 (-66.5358, -13.0029) -> (-65.0733, -9.953) centre (-68.0388, -10.4066) ccw projected
  circle A5 centre (-63.1888, 36.3837) radius 3.3 projected
  circle A6 centre (0.0852, -72.915) radius 3.3 projected
  circle A7 centre (63.1036, 36.5313) radius 3.3 projected
  circle A8 centre (-0.0852, 72.915) radius 3.3 projected
  circle A9 centre (63.1888, -36.3837) radius 3.3 projected
  circle A10 centre (-63.1036, -36.5313) radius 3.3 projected
extrude "Extrusion2" add sketch "Skizze2" against normal up to surface (3 mm away)
properties part number "BottomBase_Full" material "Holz (Birke)"
